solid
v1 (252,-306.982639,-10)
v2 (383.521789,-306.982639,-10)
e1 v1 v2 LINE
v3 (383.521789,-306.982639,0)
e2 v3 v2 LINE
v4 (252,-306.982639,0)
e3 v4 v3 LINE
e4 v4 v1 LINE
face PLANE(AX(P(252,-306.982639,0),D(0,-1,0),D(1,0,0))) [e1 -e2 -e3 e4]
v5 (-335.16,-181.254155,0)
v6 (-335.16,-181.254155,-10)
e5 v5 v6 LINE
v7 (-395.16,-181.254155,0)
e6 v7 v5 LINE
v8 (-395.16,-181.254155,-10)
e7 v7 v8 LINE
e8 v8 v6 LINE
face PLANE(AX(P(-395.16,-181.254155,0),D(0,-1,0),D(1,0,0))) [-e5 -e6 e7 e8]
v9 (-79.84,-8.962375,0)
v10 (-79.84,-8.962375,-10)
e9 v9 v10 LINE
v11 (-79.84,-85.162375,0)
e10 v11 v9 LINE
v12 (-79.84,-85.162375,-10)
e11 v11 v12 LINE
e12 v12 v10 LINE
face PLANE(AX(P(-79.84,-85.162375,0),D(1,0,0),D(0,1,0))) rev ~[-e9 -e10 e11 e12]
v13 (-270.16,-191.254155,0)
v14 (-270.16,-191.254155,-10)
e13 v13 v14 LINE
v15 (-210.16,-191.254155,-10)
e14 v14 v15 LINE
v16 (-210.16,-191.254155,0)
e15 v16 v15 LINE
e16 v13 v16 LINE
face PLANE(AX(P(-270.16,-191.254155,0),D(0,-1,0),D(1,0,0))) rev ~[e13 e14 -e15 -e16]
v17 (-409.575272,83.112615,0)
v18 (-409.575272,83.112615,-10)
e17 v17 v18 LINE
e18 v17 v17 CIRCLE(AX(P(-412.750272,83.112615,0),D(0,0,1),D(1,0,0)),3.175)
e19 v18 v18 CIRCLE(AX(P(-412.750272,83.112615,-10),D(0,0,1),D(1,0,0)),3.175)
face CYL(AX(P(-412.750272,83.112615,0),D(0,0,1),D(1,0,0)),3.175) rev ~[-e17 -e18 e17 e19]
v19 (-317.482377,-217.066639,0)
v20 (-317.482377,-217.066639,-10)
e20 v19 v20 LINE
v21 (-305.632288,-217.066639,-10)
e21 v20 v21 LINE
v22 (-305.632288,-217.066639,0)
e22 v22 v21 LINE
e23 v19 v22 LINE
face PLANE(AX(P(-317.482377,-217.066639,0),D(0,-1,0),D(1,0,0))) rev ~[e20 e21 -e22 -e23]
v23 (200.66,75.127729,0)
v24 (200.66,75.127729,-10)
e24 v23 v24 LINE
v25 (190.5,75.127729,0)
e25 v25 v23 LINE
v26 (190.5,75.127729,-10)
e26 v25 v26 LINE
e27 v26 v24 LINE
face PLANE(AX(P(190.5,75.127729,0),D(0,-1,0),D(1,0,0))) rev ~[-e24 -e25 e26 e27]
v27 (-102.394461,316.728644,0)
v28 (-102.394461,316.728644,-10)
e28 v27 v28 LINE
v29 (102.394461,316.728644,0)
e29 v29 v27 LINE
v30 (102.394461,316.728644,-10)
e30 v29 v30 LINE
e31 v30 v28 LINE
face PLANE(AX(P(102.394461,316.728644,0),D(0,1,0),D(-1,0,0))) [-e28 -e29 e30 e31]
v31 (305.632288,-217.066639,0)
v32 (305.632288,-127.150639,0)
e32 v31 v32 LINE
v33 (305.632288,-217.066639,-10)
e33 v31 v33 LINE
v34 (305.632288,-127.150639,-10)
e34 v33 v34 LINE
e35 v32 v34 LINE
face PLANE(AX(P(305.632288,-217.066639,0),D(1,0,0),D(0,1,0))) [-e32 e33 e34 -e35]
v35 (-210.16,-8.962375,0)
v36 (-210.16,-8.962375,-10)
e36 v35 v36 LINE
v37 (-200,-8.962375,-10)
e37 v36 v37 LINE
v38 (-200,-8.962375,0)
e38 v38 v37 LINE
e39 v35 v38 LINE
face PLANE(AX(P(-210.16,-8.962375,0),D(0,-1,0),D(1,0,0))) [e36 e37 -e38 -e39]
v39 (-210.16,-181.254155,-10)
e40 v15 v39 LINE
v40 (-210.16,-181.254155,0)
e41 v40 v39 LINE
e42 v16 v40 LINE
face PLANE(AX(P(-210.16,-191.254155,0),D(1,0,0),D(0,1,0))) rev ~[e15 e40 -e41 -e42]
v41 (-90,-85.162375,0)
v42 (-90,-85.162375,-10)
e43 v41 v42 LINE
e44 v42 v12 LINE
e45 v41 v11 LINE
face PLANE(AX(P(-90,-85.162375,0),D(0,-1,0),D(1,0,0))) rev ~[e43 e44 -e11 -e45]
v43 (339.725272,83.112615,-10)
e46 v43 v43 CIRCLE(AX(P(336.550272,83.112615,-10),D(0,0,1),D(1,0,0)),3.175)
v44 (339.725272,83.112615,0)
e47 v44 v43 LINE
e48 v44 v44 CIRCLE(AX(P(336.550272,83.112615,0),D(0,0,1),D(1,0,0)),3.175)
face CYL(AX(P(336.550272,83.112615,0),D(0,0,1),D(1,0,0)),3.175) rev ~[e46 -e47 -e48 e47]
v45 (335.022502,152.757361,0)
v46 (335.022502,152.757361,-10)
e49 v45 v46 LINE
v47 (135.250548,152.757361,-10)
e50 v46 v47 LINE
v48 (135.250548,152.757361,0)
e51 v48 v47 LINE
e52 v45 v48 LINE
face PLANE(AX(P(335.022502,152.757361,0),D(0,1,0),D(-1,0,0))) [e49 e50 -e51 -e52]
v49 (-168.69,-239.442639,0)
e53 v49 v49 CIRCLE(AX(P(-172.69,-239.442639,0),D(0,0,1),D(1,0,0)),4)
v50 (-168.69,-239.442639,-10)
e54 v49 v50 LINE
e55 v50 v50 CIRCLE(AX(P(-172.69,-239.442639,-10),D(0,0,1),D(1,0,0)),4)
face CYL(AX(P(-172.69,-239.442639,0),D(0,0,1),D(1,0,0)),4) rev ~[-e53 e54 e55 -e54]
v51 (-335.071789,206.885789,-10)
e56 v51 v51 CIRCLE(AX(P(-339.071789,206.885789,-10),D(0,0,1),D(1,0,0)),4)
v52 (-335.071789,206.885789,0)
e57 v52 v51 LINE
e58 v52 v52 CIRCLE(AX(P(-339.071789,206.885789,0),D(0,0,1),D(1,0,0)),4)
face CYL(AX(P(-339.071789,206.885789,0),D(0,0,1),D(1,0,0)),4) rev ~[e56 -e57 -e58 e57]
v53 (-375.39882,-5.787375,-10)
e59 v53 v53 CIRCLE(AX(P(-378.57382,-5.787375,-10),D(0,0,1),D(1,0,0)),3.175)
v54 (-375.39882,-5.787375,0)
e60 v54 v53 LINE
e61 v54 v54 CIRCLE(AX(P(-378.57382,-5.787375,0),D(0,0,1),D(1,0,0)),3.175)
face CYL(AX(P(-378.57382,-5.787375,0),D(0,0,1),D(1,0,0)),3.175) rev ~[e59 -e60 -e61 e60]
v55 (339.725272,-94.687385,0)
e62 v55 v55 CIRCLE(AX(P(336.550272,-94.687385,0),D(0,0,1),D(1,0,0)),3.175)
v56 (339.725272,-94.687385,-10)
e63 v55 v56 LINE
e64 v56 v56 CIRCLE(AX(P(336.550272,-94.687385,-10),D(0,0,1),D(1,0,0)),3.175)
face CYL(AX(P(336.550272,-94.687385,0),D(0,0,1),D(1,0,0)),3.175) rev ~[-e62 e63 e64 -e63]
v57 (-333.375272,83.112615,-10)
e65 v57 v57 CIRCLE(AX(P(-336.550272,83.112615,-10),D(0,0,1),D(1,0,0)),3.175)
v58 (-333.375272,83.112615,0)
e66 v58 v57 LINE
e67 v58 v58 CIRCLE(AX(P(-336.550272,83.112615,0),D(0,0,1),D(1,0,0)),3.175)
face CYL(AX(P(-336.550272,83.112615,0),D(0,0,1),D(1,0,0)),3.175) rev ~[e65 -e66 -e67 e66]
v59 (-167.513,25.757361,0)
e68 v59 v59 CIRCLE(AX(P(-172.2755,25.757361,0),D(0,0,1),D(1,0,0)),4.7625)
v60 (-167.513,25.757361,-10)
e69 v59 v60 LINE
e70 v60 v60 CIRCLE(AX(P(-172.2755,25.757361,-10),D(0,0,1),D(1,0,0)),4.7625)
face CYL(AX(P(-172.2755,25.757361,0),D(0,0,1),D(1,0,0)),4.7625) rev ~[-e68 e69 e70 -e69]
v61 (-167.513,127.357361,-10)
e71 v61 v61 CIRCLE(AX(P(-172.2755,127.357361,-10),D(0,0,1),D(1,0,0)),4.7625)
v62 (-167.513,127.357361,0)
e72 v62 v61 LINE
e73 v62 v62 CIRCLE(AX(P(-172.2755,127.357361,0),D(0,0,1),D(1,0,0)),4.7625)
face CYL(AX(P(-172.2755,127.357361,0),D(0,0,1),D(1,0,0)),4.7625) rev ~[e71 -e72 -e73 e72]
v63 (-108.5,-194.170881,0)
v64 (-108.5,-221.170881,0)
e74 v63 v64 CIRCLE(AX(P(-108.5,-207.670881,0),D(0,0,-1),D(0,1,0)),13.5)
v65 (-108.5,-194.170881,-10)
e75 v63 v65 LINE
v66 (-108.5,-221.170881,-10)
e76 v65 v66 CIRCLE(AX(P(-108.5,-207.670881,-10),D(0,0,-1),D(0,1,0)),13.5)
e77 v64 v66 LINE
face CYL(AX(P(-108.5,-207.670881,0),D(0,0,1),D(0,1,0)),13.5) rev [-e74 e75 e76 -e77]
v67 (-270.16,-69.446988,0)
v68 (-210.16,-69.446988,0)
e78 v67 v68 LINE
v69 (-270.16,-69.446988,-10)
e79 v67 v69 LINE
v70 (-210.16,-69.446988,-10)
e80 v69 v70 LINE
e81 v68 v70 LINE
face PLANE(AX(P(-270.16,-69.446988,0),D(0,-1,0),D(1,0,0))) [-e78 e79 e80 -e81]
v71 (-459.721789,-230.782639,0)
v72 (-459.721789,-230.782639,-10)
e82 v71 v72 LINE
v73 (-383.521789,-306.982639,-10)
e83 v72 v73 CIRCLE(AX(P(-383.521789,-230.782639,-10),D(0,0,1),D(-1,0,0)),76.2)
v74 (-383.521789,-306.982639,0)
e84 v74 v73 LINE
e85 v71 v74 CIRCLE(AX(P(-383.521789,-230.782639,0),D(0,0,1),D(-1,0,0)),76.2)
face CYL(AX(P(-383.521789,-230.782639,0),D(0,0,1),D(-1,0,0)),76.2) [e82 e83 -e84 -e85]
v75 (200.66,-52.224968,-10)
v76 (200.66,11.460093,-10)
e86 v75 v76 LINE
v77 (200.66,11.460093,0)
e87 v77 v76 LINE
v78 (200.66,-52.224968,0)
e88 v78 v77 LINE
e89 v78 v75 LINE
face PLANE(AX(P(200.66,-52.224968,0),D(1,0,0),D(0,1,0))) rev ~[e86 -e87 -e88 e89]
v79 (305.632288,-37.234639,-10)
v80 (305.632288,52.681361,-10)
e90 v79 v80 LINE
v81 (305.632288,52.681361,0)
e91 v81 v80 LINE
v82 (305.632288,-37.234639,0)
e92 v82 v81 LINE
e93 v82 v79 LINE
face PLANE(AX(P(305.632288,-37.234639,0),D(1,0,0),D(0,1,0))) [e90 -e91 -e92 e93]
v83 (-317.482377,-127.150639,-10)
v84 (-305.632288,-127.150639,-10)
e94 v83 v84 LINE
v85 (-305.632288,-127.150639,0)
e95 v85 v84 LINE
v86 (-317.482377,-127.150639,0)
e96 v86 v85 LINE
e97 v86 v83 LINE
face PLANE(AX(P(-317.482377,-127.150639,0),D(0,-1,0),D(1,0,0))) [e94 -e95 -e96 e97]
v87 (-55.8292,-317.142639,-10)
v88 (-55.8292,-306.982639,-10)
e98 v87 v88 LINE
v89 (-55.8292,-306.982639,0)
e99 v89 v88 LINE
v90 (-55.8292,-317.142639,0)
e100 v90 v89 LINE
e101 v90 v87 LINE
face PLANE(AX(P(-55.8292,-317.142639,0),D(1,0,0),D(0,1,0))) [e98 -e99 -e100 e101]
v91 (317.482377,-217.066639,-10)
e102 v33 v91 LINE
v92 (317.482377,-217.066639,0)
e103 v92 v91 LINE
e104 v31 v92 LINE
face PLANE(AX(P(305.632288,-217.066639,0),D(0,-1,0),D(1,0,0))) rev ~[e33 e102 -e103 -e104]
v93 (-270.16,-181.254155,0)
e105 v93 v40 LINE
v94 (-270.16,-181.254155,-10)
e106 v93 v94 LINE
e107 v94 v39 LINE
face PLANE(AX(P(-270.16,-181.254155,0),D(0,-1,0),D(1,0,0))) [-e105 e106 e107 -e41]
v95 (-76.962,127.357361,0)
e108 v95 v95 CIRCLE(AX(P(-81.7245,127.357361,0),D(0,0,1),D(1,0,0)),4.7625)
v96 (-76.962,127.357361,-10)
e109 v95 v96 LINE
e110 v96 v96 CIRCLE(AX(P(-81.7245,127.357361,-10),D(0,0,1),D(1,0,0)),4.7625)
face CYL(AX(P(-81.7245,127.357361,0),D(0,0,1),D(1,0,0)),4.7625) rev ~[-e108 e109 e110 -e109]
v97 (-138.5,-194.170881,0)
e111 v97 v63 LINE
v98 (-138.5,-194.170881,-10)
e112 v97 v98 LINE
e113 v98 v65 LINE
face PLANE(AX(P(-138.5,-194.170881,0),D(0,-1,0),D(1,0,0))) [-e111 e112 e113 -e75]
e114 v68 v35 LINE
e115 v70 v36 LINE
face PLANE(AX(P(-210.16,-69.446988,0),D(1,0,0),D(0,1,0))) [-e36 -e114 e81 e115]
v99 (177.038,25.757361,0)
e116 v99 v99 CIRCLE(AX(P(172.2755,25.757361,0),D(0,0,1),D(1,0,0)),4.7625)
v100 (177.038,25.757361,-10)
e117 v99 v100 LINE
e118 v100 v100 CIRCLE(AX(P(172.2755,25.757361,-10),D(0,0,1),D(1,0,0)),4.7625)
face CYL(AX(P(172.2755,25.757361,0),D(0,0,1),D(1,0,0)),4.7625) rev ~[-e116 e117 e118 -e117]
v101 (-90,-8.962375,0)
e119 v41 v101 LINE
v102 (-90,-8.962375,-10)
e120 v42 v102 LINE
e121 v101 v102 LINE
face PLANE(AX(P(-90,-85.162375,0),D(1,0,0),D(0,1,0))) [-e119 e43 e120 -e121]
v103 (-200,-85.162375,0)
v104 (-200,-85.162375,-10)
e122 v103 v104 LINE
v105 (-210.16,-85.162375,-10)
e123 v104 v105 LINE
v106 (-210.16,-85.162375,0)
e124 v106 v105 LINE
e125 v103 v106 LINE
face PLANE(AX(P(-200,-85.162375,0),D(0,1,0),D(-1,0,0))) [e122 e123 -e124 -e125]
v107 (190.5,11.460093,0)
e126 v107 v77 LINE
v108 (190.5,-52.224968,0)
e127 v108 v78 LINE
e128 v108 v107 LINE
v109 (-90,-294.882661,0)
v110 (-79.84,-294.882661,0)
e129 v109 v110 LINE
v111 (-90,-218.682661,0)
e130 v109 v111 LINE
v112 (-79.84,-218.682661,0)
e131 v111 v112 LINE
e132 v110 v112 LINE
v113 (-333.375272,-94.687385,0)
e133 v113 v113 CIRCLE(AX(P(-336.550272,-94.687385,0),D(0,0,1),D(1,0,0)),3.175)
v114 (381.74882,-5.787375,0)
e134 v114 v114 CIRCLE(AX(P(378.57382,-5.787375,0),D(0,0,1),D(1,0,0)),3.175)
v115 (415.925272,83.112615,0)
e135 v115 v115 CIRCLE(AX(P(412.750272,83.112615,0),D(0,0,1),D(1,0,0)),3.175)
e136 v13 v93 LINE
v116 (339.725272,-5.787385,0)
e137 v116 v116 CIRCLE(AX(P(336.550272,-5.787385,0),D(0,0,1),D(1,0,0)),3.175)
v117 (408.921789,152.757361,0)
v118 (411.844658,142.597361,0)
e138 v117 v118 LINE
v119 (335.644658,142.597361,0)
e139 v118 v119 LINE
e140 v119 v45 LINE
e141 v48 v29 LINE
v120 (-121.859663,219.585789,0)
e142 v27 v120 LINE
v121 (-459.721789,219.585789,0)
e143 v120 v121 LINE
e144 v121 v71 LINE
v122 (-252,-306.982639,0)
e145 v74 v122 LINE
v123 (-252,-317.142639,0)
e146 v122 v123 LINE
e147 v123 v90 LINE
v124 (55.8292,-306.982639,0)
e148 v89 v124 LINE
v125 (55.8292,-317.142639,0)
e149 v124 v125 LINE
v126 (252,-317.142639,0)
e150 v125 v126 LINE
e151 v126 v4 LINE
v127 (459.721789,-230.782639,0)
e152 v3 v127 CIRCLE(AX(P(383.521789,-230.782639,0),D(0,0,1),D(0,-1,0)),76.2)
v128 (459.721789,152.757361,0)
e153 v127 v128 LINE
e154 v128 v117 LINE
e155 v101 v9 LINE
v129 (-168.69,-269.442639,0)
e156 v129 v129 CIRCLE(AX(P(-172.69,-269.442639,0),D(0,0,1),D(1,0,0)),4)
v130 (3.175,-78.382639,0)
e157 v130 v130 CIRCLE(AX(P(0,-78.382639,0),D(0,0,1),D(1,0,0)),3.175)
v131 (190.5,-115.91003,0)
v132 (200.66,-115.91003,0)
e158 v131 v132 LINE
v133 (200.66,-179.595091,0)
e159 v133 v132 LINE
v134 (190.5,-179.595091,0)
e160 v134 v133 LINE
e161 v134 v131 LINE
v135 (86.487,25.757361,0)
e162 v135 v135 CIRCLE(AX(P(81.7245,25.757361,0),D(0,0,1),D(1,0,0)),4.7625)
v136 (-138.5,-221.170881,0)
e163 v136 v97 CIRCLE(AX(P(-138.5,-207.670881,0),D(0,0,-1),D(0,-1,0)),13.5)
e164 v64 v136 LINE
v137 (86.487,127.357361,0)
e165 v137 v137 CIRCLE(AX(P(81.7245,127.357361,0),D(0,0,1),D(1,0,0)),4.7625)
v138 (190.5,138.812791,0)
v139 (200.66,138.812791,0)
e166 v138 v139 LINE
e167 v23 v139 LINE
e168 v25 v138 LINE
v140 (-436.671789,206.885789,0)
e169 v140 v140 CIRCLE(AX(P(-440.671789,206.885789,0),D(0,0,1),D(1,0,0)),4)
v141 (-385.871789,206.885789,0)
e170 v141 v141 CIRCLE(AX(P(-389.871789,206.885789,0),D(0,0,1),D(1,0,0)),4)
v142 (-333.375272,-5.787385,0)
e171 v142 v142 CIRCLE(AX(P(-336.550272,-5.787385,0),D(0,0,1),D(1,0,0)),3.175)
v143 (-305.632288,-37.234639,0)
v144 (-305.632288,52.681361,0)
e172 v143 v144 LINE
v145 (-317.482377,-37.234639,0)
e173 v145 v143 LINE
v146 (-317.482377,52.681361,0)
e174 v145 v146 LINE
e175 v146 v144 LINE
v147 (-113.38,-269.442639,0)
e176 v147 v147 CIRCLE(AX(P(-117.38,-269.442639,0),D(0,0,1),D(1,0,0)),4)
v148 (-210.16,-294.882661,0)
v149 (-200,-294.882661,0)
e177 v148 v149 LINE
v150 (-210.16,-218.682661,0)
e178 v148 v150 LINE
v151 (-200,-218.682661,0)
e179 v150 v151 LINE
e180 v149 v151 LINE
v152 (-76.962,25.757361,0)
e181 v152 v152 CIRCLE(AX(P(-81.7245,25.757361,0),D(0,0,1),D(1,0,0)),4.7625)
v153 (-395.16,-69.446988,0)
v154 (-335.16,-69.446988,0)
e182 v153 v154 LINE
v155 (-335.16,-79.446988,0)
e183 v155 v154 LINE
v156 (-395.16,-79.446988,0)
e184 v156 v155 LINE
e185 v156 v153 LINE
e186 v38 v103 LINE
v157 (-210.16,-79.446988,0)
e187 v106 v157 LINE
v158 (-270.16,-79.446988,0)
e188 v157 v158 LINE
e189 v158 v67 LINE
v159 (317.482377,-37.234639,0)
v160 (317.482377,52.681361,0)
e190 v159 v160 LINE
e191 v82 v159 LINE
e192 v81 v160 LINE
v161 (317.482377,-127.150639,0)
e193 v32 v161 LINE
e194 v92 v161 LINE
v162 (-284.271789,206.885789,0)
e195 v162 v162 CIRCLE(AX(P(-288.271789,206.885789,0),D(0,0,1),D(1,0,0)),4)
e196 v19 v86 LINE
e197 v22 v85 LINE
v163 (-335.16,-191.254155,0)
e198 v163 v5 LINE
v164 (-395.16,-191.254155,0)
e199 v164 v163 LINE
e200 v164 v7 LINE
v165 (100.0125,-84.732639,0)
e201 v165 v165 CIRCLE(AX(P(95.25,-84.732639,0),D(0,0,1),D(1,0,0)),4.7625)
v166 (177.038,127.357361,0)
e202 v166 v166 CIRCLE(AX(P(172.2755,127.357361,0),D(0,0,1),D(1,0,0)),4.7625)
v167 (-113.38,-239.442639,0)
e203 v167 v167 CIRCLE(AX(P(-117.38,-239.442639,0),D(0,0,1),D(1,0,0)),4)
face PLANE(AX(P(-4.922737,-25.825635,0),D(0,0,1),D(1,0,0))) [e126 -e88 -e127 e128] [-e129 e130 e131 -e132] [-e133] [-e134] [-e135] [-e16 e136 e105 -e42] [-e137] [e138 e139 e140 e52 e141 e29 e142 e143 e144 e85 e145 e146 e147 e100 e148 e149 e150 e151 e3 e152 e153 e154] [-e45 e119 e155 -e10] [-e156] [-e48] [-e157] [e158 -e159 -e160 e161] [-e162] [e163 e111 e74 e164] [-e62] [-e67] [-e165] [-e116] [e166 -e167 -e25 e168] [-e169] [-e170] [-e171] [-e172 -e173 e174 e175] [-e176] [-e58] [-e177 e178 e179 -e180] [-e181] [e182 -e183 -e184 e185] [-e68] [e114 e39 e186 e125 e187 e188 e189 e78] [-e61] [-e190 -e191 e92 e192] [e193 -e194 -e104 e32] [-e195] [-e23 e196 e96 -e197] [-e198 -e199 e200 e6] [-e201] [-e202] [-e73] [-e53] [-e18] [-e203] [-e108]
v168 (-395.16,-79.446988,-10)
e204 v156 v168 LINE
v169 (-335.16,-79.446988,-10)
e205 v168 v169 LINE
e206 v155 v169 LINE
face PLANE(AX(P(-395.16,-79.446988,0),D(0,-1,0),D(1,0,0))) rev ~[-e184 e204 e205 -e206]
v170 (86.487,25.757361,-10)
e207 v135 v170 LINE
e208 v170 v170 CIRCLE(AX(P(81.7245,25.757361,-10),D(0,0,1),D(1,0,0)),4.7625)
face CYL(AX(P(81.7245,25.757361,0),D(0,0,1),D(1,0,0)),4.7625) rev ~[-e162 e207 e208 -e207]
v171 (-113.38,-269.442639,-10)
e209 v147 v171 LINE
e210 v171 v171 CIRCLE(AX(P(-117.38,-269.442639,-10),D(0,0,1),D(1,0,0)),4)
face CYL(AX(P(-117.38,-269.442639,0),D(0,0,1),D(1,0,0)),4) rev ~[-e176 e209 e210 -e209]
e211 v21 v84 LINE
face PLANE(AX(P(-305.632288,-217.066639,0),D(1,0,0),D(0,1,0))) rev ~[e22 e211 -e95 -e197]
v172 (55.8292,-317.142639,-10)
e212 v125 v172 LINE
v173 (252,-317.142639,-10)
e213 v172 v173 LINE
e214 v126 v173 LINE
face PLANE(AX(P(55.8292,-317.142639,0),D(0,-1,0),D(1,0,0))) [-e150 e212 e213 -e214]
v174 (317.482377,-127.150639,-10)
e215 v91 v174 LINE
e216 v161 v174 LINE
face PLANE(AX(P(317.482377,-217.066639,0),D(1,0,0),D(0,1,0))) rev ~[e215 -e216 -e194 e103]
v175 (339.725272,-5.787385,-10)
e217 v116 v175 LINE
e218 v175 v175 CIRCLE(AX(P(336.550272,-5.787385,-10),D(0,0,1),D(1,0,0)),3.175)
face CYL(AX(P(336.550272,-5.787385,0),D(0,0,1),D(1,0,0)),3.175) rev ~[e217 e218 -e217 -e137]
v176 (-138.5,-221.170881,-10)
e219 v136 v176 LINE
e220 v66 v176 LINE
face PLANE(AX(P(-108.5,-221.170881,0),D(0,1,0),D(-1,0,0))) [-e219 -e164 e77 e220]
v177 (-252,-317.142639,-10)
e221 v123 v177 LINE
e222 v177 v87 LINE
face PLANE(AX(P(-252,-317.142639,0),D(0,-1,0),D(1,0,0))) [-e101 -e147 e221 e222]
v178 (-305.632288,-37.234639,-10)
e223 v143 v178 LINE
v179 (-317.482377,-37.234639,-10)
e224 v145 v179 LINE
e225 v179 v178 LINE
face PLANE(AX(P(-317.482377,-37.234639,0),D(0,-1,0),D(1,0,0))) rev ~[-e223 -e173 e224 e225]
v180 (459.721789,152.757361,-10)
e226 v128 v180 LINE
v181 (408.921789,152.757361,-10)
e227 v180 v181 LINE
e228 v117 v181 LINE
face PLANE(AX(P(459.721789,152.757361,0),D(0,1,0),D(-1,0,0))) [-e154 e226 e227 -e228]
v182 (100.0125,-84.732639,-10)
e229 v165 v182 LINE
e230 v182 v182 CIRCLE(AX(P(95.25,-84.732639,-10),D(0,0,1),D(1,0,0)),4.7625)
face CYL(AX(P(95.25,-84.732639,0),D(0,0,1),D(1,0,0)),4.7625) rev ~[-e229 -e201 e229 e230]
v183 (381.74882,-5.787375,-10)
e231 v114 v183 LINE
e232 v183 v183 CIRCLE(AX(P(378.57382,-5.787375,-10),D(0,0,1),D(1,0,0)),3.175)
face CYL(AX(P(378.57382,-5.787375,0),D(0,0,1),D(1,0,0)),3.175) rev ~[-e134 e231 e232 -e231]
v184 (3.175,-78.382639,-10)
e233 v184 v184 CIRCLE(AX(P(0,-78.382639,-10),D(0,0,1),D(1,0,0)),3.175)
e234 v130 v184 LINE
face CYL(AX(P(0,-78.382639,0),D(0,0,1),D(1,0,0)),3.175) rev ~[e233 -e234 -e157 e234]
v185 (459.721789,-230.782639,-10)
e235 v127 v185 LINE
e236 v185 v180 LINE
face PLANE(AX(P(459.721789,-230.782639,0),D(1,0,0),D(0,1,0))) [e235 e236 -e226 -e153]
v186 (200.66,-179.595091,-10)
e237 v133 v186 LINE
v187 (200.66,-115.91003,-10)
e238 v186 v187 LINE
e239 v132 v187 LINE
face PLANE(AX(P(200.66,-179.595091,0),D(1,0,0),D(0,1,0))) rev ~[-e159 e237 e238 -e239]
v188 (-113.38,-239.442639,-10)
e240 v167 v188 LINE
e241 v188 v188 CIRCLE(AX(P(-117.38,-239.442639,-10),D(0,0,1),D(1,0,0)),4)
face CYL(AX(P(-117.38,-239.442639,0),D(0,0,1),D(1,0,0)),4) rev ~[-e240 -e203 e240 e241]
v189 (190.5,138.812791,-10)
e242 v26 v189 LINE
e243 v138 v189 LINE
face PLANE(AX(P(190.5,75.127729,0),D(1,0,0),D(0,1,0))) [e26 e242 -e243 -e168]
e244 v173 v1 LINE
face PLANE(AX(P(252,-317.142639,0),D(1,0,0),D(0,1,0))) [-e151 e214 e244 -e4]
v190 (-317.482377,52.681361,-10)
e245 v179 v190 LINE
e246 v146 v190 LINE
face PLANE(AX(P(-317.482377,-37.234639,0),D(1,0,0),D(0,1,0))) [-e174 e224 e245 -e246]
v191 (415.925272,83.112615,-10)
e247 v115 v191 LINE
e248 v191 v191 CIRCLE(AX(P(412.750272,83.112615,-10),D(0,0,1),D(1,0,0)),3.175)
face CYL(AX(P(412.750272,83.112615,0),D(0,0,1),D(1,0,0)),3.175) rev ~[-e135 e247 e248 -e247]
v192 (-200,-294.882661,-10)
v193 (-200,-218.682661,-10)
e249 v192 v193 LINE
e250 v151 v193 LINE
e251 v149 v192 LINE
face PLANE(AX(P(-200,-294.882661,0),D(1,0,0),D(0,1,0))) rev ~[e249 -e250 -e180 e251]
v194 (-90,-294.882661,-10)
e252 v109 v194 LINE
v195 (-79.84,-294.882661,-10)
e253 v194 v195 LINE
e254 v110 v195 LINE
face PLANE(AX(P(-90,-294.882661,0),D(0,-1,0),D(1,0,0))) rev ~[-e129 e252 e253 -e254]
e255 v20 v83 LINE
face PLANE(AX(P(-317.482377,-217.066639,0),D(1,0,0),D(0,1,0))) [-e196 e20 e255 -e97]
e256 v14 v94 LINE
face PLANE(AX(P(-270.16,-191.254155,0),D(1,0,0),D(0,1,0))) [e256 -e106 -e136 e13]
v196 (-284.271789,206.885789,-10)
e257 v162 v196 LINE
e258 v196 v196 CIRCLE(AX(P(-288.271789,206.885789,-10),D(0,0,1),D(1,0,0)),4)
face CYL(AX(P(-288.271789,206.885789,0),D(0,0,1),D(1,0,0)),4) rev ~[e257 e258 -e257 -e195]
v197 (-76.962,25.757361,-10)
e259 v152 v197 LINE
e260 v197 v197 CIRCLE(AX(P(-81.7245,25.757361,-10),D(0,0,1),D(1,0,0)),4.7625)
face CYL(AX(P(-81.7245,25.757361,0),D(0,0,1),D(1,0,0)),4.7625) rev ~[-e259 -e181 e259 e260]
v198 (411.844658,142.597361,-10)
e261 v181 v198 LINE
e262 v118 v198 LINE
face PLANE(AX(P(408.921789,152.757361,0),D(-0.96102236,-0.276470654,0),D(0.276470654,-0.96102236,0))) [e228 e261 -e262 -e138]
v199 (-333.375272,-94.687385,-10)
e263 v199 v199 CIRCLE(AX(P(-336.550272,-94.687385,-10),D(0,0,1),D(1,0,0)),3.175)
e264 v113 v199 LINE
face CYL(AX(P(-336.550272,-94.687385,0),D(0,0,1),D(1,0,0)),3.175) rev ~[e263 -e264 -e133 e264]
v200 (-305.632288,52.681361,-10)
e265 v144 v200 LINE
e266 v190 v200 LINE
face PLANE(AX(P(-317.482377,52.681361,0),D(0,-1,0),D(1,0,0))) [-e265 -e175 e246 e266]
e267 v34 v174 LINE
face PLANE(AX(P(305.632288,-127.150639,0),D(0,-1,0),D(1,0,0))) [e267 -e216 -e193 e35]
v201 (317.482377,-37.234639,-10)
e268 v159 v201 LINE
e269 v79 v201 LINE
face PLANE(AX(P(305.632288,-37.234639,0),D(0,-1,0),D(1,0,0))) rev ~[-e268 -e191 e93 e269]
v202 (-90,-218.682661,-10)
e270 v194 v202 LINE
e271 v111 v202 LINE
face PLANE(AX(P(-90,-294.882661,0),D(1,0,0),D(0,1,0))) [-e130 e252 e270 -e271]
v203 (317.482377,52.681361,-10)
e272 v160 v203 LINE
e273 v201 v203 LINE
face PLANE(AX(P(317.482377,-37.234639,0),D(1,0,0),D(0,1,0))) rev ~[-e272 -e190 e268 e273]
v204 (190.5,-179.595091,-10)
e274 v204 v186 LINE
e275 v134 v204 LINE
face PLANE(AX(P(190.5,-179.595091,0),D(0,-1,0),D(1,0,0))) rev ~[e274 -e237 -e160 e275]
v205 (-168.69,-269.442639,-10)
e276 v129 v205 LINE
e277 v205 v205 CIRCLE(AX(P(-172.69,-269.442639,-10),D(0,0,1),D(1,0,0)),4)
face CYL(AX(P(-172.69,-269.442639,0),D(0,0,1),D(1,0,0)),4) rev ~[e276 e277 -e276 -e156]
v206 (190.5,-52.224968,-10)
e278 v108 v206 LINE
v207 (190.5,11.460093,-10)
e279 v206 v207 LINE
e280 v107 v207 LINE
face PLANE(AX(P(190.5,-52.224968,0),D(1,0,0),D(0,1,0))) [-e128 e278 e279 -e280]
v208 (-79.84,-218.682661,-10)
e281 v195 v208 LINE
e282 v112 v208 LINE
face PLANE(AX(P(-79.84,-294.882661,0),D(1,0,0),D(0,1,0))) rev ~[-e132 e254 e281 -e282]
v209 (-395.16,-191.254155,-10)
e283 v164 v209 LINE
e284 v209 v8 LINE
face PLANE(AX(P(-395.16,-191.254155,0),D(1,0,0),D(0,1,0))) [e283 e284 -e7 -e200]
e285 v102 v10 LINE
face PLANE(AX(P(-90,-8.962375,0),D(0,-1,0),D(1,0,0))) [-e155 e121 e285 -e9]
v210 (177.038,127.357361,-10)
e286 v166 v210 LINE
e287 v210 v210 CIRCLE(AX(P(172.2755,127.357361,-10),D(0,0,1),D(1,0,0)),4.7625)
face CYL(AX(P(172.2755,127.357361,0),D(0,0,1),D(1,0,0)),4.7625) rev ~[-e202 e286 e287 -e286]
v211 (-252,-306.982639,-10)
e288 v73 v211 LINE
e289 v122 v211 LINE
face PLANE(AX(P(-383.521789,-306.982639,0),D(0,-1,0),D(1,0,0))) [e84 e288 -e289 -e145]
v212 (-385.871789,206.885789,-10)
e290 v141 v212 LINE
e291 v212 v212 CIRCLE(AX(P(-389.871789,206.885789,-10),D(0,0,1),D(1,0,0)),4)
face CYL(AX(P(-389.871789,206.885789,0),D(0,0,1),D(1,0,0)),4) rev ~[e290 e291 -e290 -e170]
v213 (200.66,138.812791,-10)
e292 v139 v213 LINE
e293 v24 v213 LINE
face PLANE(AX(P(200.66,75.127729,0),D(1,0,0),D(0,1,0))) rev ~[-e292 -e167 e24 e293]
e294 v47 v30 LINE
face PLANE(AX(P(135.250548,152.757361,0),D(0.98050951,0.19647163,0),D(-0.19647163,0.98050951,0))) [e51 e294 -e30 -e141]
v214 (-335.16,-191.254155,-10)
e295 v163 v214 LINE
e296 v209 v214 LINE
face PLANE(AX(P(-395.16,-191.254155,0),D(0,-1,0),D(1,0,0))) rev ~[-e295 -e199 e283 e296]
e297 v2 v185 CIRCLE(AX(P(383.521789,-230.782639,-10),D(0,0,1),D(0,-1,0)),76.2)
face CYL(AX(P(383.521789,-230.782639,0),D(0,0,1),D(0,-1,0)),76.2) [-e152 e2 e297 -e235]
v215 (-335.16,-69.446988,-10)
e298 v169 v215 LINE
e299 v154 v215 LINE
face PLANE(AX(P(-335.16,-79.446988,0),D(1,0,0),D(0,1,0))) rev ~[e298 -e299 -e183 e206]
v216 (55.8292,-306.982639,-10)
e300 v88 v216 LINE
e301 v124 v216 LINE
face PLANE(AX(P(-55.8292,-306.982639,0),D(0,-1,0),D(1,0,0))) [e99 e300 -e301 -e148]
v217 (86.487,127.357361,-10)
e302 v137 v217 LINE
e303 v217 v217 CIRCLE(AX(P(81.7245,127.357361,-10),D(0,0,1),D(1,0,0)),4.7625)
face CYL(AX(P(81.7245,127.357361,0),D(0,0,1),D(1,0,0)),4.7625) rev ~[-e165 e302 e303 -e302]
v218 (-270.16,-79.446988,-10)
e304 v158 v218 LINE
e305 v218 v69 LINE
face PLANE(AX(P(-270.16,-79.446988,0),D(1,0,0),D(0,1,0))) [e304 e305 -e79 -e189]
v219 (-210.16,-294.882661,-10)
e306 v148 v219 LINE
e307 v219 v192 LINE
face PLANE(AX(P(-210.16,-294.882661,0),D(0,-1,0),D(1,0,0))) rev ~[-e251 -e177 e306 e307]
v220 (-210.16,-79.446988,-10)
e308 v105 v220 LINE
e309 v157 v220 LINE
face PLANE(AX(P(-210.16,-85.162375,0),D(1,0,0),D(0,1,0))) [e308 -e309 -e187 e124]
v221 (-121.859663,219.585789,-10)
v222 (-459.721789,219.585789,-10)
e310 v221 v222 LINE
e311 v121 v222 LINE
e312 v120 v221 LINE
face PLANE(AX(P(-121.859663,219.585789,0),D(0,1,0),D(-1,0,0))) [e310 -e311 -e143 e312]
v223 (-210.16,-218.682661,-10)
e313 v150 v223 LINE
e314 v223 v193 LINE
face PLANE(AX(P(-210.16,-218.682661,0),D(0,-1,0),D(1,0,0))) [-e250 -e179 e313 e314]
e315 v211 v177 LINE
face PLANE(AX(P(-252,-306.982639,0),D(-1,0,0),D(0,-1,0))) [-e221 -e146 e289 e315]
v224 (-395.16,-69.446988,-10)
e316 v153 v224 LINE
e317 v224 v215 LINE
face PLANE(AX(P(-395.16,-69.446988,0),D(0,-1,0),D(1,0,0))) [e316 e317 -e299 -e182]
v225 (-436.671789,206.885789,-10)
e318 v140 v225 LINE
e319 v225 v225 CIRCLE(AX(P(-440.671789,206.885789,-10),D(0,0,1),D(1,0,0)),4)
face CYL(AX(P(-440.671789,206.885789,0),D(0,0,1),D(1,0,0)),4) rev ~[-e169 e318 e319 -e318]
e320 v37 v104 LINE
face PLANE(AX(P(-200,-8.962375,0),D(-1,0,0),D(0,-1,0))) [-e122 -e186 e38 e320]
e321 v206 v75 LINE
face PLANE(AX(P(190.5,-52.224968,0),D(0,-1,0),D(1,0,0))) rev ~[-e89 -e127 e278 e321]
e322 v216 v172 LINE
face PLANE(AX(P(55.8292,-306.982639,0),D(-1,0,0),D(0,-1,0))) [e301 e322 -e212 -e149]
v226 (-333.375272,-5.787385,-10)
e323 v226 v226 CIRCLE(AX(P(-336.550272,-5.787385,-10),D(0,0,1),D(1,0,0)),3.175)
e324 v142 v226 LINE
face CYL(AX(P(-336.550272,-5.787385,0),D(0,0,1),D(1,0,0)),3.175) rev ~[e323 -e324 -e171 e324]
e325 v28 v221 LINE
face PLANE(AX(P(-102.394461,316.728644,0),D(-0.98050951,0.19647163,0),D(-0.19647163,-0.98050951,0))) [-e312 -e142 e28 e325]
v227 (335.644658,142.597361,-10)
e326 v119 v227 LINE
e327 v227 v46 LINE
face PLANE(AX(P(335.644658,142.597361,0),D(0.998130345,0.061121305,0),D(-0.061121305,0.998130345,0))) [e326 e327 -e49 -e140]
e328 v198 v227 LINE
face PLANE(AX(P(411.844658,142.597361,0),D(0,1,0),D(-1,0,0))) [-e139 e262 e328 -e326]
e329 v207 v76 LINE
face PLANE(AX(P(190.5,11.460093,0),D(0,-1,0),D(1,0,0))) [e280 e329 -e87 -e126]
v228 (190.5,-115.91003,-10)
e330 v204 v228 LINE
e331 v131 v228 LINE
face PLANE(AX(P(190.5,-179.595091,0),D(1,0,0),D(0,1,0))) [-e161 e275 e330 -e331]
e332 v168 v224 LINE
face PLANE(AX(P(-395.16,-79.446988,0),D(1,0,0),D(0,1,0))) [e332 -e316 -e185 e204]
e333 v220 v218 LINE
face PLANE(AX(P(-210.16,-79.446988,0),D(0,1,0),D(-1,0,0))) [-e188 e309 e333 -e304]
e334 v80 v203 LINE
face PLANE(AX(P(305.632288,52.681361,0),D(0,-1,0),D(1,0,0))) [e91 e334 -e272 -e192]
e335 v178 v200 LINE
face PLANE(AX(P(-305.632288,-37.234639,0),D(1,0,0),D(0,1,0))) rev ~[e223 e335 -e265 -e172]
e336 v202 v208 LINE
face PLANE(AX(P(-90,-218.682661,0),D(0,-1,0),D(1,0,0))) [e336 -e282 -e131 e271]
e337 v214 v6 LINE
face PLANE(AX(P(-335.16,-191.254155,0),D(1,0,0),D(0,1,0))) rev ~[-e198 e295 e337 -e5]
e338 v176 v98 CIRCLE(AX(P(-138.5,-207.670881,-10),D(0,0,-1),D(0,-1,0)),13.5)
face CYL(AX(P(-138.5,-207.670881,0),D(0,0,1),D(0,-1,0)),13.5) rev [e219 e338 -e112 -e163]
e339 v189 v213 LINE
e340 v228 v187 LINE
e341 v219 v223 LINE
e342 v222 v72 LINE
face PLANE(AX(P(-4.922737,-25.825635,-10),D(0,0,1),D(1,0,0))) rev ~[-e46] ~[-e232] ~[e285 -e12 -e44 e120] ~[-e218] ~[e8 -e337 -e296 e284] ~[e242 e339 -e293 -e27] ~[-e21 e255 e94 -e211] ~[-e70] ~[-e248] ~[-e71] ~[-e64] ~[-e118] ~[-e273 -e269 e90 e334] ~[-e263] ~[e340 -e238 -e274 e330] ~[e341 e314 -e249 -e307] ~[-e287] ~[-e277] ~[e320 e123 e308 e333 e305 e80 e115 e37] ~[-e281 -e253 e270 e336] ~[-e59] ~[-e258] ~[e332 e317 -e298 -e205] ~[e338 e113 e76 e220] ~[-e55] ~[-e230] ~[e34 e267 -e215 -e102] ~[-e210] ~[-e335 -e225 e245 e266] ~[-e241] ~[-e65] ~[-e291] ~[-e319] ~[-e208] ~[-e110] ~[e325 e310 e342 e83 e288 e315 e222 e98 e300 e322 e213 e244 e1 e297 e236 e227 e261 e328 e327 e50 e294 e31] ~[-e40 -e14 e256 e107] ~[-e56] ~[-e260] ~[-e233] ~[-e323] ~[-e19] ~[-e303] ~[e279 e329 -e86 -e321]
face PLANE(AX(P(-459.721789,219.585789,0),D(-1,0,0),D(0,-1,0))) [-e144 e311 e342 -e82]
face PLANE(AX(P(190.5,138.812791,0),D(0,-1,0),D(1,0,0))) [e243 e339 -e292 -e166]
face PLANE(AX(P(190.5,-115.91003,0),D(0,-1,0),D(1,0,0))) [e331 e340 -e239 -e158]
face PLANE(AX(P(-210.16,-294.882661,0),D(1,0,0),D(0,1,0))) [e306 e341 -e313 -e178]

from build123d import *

# Parameters (mm, degrees)
SKETCH2_W           = 60
SKETCH2_H           = 10
SKETCH2_W_2         = 11.850089675
SKETCH2_H_2         = 89.916
SKETCH2_R           = 4
SKETCH2_W_3         = 10.16
SKETCH2_H_3         = 76.2
SKETCH2_R_2         = 3.175
SKETCH2_R_3         = 4.7625
SKETCH2_H_4         = 63.685061478
SKETCH2_H_5         = 63.685061479
BOSS_EXTRUDE1_DEPTH = 10


with BuildPart() as part:
    # Sketch2 → Boss-Extrude1 (new body)
    with BuildSketch(Plane.XY):
        with BuildLine():
            Line((-102.394461083, 316.728644457), (-121.859662508, 219.58578935))
            Line((-121.859662508, 219.58578935), (-459.721789204, 219.58578935))
            Line((-459.721789204, 219.58578935), (-459.721789204, -230.782639429))
            ThreePointArc((-459.721789204, -230.782639429), (-437.403325931, -284.664176156), (-383.521789204, -306.982639429))
            Line((-383.521789204, -306.982639429), (-252, -306.982639429))
            Line((-252, -306.982639429), (-252, -317.142639429))
            Line((-252, -317.142639429), (-55.8292, -317.142639429))
            Line((-55.8292, -317.142639429), (-55.8292, -306.982639429))
            Line((-55.8292, -306.982639429), (55.8292, -306.982639429))
            Line((55.8292, -306.982639429), (55.8292, -317.142639429))
            Line((55.8292, -317.142639429), (252, -317.142639429))
            Line((252, -317.142639429), (252, -306.982639429))
            Line((252, -306.982639429), (383.521789204, -306.982639429))
            ThreePointArc((383.521789204, -306.982639429), (437.403325931, -284.664176156), (459.721789204, -230.782639429))
            Line((459.721789204, -230.782639429), (459.721789204, 152.75736057))
            Line((459.721789204, 152.75736057), (408.921789204, 152.75736057))
            Line((408.921789204, 152.75736057), (411.84465756, 142.597360571))
            Line((411.84465756, 142.597360571), (335.64465756, 142.597360571))
            Line((335.64465756, 142.597360571), (335.022501884, 152.75736057))
            Line((335.022501884, 152.75736057), (135.250547773, 152.75736057))
            Line((135.250547773, 152.75736057), (102.394461083, 316.728644457))
            Line((102.394461083, 316.728644457), (-102.394461083, 316.728644457))
        make_face()
        with Locations((-365.16, -186.254154613)):
            Rectangle(SKETCH2_W, SKETCH2_H, mode=Mode.SUBTRACT)
        with Locations((-311.557332494, -172.10863943)):
            Rectangle(SKETCH2_W_2, SKETCH2_H_2, mode=Mode.SUBTRACT)
        with Locations((-240.16, -186.254154613)):
            Rectangle(SKETCH2_W, SKETCH2_H, mode=Mode.SUBTRACT)
        with Locations((-172.69, -269.442639429)):
            Circle(SKETCH2_R, mode=Mode.SUBTRACT)
        with Locations((-205.08, -256.782661115)):
            Rectangle(SKETCH2_W_3, SKETCH2_H_3, mode=Mode.SUBTRACT)
        with Locations((-172.69, -239.442639429)):
            Circle(SKETCH2_R, mode=Mode.SUBTRACT)
        with Locations((-117.38, -269.442639429)):
            Circle(SKETCH2_R, mode=Mode.SUBTRACT)
        with Locations((-117.38, -239.442639429)):
            Circle(SKETCH2_R, mode=Mode.SUBTRACT)
        with Locations((-84.92, -256.782661115)):
            Rectangle(SKETCH2_W_3, SKETCH2_H_3, mode=Mode.SUBTRACT)
        with BuildLine():
            ThreePointArc((-108.5, -194.170881029), (-95, -207.670881029), (-108.5, -221.170881029))
            Line((-108.5, -221.170881029), (-138.5, -221.170881029))
            ThreePointArc((-138.5, -221.170881029), (-152, -207.670881029), (-138.5, -194.170881029))
            Line((-138.5, -194.170881029), (-108.5, -194.170881029))
        make_face(mode=Mode.SUBTRACT)
        with Locations((-336.55027219, -94.687385458)):
            Circle(SKETCH2_R_2, mode=Mode.SUBTRACT)
        with Locations((-378.573819589, -5.78737531)):
            Circle(SKETCH2_R_2, mode=Mode.SUBTRACT)
        with Locations((-365.16, -74.446988355)):
            Rectangle(SKETCH2_W, SKETCH2_H, mode=Mode.SUBTRACT)
        Polygon((-270.16, -69.446988355), (-210.16, -69.446988355), (-210.16, -8.96237531), (-200, -8.96237531), (-200, -85.16237531), (-210.16, -85.16237531), (-210.16, -79.446988355), (-270.16, -79.446988355), align=None, mode=Mode.SUBTRACT)
        with Locations((-336.55027219, -5.787385458)):
            Circle(SKETCH2_R_2, mode=Mode.SUBTRACT)
        with Locations((-84.92, -47.06237531)):
            Rectangle(SKETCH2_W_3, SKETCH2_H_3, mode=Mode.SUBTRACT)
        with Locations((0, -78.38263943)):
            Circle(SKETCH2_R_2, mode=Mode.SUBTRACT)
        with Locations((311.557332494, -172.10863943)):
            Rectangle(SKETCH2_W_2, SKETCH2_H_2, mode=Mode.SUBTRACT)
        with Locations((95.25, -84.73263943)):
            Circle(SKETCH2_R_3, mode=Mode.SUBTRACT)
        with Locations((195.58, -147.752560311)):
            Rectangle(SKETCH2_W_3, SKETCH2_H_4, mode=Mode.SUBTRACT)
        with Locations((195.58, -20.382437355)):
            Rectangle(SKETCH2_W_3, SKETCH2_H_5, mode=Mode.SUBTRACT)
        with Locations((336.550272189, -94.687385458)):
            Circle(SKETCH2_R_2, mode=Mode.SUBTRACT)
        with Locations((336.550272189, -5.787385458)):
            Circle(SKETCH2_R_2, mode=Mode.SUBTRACT)
        with Locations((378.573819589, -5.78737531)):
            Circle(SKETCH2_R_2, mode=Mode.SUBTRACT)
        with Locations((-311.557332494, 7.72336057)):
            Rectangle(SKETCH2_W_2, SKETCH2_H_2, mode=Mode.SUBTRACT)
        with Locations((-412.75027219, 83.112614542)):
            Circle(SKETCH2_R_2, mode=Mode.SUBTRACT)
        with Locations((-336.55027219, 83.112614542)):
            Circle(SKETCH2_R_2, mode=Mode.SUBTRACT)
        with Locations((-172.2755, 25.75736057)):
            Circle(SKETCH2_R_3, mode=Mode.SUBTRACT)
        with Locations((-81.7245, 25.75736057)):
            Circle(SKETCH2_R_3, mode=Mode.SUBTRACT)
        with Locations((-172.2755, 127.35736057)):
            Circle(SKETCH2_R_3, mode=Mode.SUBTRACT)
        with Locations((-81.7245, 127.35736057)):
            Circle(SKETCH2_R_3, mode=Mode.SUBTRACT)
        with Locations((81.7245, 25.75736057)):
            Circle(SKETCH2_R_3, mode=Mode.SUBTRACT)
        with Locations((172.2755, 25.75736057)):
            Circle(SKETCH2_R_3, mode=Mode.SUBTRACT)
        with Locations((81.7245, 127.35736057)):
            Circle(SKETCH2_R_3, mode=Mode.SUBTRACT)
        with Locations((195.58, 106.97026018)):
            Rectangle(SKETCH2_W_3, SKETCH2_H_5, mode=Mode.SUBTRACT)
        with Locations((172.2755, 127.35736057)):
            Circle(SKETCH2_R_3, mode=Mode.SUBTRACT)
        with Locations((311.557332494, 7.72336057)):
            Rectangle(SKETCH2_W_2, SKETCH2_H_2, mode=Mode.SUBTRACT)
        with Locations((336.550272189, 83.112614542)):
            Circle(SKETCH2_R_2, mode=Mode.SUBTRACT)
        with Locations((412.750272189, 83.112614542)):
            Circle(SKETCH2_R_2, mode=Mode.SUBTRACT)
        with Locations((-339.071789204, 206.88578935)):
            Circle(SKETCH2_R, mode=Mode.SUBTRACT)
        with Locations((-288.271789204, 206.88578935)):
            Circle(SKETCH2_R, mode=Mode.SUBTRACT)
        with Locations((-440.671789204, 206.88578935)):
            Circle(SKETCH2_R, mode=Mode.SUBTRACT)
        with Locations((-389.871789204, 206.88578935)):
            Circle(SKETCH2_R, mode=Mode.SUBTRACT)
    extrude(amount=-BOSS_EXTRUDE1_DEPTH)


solid = part.part
